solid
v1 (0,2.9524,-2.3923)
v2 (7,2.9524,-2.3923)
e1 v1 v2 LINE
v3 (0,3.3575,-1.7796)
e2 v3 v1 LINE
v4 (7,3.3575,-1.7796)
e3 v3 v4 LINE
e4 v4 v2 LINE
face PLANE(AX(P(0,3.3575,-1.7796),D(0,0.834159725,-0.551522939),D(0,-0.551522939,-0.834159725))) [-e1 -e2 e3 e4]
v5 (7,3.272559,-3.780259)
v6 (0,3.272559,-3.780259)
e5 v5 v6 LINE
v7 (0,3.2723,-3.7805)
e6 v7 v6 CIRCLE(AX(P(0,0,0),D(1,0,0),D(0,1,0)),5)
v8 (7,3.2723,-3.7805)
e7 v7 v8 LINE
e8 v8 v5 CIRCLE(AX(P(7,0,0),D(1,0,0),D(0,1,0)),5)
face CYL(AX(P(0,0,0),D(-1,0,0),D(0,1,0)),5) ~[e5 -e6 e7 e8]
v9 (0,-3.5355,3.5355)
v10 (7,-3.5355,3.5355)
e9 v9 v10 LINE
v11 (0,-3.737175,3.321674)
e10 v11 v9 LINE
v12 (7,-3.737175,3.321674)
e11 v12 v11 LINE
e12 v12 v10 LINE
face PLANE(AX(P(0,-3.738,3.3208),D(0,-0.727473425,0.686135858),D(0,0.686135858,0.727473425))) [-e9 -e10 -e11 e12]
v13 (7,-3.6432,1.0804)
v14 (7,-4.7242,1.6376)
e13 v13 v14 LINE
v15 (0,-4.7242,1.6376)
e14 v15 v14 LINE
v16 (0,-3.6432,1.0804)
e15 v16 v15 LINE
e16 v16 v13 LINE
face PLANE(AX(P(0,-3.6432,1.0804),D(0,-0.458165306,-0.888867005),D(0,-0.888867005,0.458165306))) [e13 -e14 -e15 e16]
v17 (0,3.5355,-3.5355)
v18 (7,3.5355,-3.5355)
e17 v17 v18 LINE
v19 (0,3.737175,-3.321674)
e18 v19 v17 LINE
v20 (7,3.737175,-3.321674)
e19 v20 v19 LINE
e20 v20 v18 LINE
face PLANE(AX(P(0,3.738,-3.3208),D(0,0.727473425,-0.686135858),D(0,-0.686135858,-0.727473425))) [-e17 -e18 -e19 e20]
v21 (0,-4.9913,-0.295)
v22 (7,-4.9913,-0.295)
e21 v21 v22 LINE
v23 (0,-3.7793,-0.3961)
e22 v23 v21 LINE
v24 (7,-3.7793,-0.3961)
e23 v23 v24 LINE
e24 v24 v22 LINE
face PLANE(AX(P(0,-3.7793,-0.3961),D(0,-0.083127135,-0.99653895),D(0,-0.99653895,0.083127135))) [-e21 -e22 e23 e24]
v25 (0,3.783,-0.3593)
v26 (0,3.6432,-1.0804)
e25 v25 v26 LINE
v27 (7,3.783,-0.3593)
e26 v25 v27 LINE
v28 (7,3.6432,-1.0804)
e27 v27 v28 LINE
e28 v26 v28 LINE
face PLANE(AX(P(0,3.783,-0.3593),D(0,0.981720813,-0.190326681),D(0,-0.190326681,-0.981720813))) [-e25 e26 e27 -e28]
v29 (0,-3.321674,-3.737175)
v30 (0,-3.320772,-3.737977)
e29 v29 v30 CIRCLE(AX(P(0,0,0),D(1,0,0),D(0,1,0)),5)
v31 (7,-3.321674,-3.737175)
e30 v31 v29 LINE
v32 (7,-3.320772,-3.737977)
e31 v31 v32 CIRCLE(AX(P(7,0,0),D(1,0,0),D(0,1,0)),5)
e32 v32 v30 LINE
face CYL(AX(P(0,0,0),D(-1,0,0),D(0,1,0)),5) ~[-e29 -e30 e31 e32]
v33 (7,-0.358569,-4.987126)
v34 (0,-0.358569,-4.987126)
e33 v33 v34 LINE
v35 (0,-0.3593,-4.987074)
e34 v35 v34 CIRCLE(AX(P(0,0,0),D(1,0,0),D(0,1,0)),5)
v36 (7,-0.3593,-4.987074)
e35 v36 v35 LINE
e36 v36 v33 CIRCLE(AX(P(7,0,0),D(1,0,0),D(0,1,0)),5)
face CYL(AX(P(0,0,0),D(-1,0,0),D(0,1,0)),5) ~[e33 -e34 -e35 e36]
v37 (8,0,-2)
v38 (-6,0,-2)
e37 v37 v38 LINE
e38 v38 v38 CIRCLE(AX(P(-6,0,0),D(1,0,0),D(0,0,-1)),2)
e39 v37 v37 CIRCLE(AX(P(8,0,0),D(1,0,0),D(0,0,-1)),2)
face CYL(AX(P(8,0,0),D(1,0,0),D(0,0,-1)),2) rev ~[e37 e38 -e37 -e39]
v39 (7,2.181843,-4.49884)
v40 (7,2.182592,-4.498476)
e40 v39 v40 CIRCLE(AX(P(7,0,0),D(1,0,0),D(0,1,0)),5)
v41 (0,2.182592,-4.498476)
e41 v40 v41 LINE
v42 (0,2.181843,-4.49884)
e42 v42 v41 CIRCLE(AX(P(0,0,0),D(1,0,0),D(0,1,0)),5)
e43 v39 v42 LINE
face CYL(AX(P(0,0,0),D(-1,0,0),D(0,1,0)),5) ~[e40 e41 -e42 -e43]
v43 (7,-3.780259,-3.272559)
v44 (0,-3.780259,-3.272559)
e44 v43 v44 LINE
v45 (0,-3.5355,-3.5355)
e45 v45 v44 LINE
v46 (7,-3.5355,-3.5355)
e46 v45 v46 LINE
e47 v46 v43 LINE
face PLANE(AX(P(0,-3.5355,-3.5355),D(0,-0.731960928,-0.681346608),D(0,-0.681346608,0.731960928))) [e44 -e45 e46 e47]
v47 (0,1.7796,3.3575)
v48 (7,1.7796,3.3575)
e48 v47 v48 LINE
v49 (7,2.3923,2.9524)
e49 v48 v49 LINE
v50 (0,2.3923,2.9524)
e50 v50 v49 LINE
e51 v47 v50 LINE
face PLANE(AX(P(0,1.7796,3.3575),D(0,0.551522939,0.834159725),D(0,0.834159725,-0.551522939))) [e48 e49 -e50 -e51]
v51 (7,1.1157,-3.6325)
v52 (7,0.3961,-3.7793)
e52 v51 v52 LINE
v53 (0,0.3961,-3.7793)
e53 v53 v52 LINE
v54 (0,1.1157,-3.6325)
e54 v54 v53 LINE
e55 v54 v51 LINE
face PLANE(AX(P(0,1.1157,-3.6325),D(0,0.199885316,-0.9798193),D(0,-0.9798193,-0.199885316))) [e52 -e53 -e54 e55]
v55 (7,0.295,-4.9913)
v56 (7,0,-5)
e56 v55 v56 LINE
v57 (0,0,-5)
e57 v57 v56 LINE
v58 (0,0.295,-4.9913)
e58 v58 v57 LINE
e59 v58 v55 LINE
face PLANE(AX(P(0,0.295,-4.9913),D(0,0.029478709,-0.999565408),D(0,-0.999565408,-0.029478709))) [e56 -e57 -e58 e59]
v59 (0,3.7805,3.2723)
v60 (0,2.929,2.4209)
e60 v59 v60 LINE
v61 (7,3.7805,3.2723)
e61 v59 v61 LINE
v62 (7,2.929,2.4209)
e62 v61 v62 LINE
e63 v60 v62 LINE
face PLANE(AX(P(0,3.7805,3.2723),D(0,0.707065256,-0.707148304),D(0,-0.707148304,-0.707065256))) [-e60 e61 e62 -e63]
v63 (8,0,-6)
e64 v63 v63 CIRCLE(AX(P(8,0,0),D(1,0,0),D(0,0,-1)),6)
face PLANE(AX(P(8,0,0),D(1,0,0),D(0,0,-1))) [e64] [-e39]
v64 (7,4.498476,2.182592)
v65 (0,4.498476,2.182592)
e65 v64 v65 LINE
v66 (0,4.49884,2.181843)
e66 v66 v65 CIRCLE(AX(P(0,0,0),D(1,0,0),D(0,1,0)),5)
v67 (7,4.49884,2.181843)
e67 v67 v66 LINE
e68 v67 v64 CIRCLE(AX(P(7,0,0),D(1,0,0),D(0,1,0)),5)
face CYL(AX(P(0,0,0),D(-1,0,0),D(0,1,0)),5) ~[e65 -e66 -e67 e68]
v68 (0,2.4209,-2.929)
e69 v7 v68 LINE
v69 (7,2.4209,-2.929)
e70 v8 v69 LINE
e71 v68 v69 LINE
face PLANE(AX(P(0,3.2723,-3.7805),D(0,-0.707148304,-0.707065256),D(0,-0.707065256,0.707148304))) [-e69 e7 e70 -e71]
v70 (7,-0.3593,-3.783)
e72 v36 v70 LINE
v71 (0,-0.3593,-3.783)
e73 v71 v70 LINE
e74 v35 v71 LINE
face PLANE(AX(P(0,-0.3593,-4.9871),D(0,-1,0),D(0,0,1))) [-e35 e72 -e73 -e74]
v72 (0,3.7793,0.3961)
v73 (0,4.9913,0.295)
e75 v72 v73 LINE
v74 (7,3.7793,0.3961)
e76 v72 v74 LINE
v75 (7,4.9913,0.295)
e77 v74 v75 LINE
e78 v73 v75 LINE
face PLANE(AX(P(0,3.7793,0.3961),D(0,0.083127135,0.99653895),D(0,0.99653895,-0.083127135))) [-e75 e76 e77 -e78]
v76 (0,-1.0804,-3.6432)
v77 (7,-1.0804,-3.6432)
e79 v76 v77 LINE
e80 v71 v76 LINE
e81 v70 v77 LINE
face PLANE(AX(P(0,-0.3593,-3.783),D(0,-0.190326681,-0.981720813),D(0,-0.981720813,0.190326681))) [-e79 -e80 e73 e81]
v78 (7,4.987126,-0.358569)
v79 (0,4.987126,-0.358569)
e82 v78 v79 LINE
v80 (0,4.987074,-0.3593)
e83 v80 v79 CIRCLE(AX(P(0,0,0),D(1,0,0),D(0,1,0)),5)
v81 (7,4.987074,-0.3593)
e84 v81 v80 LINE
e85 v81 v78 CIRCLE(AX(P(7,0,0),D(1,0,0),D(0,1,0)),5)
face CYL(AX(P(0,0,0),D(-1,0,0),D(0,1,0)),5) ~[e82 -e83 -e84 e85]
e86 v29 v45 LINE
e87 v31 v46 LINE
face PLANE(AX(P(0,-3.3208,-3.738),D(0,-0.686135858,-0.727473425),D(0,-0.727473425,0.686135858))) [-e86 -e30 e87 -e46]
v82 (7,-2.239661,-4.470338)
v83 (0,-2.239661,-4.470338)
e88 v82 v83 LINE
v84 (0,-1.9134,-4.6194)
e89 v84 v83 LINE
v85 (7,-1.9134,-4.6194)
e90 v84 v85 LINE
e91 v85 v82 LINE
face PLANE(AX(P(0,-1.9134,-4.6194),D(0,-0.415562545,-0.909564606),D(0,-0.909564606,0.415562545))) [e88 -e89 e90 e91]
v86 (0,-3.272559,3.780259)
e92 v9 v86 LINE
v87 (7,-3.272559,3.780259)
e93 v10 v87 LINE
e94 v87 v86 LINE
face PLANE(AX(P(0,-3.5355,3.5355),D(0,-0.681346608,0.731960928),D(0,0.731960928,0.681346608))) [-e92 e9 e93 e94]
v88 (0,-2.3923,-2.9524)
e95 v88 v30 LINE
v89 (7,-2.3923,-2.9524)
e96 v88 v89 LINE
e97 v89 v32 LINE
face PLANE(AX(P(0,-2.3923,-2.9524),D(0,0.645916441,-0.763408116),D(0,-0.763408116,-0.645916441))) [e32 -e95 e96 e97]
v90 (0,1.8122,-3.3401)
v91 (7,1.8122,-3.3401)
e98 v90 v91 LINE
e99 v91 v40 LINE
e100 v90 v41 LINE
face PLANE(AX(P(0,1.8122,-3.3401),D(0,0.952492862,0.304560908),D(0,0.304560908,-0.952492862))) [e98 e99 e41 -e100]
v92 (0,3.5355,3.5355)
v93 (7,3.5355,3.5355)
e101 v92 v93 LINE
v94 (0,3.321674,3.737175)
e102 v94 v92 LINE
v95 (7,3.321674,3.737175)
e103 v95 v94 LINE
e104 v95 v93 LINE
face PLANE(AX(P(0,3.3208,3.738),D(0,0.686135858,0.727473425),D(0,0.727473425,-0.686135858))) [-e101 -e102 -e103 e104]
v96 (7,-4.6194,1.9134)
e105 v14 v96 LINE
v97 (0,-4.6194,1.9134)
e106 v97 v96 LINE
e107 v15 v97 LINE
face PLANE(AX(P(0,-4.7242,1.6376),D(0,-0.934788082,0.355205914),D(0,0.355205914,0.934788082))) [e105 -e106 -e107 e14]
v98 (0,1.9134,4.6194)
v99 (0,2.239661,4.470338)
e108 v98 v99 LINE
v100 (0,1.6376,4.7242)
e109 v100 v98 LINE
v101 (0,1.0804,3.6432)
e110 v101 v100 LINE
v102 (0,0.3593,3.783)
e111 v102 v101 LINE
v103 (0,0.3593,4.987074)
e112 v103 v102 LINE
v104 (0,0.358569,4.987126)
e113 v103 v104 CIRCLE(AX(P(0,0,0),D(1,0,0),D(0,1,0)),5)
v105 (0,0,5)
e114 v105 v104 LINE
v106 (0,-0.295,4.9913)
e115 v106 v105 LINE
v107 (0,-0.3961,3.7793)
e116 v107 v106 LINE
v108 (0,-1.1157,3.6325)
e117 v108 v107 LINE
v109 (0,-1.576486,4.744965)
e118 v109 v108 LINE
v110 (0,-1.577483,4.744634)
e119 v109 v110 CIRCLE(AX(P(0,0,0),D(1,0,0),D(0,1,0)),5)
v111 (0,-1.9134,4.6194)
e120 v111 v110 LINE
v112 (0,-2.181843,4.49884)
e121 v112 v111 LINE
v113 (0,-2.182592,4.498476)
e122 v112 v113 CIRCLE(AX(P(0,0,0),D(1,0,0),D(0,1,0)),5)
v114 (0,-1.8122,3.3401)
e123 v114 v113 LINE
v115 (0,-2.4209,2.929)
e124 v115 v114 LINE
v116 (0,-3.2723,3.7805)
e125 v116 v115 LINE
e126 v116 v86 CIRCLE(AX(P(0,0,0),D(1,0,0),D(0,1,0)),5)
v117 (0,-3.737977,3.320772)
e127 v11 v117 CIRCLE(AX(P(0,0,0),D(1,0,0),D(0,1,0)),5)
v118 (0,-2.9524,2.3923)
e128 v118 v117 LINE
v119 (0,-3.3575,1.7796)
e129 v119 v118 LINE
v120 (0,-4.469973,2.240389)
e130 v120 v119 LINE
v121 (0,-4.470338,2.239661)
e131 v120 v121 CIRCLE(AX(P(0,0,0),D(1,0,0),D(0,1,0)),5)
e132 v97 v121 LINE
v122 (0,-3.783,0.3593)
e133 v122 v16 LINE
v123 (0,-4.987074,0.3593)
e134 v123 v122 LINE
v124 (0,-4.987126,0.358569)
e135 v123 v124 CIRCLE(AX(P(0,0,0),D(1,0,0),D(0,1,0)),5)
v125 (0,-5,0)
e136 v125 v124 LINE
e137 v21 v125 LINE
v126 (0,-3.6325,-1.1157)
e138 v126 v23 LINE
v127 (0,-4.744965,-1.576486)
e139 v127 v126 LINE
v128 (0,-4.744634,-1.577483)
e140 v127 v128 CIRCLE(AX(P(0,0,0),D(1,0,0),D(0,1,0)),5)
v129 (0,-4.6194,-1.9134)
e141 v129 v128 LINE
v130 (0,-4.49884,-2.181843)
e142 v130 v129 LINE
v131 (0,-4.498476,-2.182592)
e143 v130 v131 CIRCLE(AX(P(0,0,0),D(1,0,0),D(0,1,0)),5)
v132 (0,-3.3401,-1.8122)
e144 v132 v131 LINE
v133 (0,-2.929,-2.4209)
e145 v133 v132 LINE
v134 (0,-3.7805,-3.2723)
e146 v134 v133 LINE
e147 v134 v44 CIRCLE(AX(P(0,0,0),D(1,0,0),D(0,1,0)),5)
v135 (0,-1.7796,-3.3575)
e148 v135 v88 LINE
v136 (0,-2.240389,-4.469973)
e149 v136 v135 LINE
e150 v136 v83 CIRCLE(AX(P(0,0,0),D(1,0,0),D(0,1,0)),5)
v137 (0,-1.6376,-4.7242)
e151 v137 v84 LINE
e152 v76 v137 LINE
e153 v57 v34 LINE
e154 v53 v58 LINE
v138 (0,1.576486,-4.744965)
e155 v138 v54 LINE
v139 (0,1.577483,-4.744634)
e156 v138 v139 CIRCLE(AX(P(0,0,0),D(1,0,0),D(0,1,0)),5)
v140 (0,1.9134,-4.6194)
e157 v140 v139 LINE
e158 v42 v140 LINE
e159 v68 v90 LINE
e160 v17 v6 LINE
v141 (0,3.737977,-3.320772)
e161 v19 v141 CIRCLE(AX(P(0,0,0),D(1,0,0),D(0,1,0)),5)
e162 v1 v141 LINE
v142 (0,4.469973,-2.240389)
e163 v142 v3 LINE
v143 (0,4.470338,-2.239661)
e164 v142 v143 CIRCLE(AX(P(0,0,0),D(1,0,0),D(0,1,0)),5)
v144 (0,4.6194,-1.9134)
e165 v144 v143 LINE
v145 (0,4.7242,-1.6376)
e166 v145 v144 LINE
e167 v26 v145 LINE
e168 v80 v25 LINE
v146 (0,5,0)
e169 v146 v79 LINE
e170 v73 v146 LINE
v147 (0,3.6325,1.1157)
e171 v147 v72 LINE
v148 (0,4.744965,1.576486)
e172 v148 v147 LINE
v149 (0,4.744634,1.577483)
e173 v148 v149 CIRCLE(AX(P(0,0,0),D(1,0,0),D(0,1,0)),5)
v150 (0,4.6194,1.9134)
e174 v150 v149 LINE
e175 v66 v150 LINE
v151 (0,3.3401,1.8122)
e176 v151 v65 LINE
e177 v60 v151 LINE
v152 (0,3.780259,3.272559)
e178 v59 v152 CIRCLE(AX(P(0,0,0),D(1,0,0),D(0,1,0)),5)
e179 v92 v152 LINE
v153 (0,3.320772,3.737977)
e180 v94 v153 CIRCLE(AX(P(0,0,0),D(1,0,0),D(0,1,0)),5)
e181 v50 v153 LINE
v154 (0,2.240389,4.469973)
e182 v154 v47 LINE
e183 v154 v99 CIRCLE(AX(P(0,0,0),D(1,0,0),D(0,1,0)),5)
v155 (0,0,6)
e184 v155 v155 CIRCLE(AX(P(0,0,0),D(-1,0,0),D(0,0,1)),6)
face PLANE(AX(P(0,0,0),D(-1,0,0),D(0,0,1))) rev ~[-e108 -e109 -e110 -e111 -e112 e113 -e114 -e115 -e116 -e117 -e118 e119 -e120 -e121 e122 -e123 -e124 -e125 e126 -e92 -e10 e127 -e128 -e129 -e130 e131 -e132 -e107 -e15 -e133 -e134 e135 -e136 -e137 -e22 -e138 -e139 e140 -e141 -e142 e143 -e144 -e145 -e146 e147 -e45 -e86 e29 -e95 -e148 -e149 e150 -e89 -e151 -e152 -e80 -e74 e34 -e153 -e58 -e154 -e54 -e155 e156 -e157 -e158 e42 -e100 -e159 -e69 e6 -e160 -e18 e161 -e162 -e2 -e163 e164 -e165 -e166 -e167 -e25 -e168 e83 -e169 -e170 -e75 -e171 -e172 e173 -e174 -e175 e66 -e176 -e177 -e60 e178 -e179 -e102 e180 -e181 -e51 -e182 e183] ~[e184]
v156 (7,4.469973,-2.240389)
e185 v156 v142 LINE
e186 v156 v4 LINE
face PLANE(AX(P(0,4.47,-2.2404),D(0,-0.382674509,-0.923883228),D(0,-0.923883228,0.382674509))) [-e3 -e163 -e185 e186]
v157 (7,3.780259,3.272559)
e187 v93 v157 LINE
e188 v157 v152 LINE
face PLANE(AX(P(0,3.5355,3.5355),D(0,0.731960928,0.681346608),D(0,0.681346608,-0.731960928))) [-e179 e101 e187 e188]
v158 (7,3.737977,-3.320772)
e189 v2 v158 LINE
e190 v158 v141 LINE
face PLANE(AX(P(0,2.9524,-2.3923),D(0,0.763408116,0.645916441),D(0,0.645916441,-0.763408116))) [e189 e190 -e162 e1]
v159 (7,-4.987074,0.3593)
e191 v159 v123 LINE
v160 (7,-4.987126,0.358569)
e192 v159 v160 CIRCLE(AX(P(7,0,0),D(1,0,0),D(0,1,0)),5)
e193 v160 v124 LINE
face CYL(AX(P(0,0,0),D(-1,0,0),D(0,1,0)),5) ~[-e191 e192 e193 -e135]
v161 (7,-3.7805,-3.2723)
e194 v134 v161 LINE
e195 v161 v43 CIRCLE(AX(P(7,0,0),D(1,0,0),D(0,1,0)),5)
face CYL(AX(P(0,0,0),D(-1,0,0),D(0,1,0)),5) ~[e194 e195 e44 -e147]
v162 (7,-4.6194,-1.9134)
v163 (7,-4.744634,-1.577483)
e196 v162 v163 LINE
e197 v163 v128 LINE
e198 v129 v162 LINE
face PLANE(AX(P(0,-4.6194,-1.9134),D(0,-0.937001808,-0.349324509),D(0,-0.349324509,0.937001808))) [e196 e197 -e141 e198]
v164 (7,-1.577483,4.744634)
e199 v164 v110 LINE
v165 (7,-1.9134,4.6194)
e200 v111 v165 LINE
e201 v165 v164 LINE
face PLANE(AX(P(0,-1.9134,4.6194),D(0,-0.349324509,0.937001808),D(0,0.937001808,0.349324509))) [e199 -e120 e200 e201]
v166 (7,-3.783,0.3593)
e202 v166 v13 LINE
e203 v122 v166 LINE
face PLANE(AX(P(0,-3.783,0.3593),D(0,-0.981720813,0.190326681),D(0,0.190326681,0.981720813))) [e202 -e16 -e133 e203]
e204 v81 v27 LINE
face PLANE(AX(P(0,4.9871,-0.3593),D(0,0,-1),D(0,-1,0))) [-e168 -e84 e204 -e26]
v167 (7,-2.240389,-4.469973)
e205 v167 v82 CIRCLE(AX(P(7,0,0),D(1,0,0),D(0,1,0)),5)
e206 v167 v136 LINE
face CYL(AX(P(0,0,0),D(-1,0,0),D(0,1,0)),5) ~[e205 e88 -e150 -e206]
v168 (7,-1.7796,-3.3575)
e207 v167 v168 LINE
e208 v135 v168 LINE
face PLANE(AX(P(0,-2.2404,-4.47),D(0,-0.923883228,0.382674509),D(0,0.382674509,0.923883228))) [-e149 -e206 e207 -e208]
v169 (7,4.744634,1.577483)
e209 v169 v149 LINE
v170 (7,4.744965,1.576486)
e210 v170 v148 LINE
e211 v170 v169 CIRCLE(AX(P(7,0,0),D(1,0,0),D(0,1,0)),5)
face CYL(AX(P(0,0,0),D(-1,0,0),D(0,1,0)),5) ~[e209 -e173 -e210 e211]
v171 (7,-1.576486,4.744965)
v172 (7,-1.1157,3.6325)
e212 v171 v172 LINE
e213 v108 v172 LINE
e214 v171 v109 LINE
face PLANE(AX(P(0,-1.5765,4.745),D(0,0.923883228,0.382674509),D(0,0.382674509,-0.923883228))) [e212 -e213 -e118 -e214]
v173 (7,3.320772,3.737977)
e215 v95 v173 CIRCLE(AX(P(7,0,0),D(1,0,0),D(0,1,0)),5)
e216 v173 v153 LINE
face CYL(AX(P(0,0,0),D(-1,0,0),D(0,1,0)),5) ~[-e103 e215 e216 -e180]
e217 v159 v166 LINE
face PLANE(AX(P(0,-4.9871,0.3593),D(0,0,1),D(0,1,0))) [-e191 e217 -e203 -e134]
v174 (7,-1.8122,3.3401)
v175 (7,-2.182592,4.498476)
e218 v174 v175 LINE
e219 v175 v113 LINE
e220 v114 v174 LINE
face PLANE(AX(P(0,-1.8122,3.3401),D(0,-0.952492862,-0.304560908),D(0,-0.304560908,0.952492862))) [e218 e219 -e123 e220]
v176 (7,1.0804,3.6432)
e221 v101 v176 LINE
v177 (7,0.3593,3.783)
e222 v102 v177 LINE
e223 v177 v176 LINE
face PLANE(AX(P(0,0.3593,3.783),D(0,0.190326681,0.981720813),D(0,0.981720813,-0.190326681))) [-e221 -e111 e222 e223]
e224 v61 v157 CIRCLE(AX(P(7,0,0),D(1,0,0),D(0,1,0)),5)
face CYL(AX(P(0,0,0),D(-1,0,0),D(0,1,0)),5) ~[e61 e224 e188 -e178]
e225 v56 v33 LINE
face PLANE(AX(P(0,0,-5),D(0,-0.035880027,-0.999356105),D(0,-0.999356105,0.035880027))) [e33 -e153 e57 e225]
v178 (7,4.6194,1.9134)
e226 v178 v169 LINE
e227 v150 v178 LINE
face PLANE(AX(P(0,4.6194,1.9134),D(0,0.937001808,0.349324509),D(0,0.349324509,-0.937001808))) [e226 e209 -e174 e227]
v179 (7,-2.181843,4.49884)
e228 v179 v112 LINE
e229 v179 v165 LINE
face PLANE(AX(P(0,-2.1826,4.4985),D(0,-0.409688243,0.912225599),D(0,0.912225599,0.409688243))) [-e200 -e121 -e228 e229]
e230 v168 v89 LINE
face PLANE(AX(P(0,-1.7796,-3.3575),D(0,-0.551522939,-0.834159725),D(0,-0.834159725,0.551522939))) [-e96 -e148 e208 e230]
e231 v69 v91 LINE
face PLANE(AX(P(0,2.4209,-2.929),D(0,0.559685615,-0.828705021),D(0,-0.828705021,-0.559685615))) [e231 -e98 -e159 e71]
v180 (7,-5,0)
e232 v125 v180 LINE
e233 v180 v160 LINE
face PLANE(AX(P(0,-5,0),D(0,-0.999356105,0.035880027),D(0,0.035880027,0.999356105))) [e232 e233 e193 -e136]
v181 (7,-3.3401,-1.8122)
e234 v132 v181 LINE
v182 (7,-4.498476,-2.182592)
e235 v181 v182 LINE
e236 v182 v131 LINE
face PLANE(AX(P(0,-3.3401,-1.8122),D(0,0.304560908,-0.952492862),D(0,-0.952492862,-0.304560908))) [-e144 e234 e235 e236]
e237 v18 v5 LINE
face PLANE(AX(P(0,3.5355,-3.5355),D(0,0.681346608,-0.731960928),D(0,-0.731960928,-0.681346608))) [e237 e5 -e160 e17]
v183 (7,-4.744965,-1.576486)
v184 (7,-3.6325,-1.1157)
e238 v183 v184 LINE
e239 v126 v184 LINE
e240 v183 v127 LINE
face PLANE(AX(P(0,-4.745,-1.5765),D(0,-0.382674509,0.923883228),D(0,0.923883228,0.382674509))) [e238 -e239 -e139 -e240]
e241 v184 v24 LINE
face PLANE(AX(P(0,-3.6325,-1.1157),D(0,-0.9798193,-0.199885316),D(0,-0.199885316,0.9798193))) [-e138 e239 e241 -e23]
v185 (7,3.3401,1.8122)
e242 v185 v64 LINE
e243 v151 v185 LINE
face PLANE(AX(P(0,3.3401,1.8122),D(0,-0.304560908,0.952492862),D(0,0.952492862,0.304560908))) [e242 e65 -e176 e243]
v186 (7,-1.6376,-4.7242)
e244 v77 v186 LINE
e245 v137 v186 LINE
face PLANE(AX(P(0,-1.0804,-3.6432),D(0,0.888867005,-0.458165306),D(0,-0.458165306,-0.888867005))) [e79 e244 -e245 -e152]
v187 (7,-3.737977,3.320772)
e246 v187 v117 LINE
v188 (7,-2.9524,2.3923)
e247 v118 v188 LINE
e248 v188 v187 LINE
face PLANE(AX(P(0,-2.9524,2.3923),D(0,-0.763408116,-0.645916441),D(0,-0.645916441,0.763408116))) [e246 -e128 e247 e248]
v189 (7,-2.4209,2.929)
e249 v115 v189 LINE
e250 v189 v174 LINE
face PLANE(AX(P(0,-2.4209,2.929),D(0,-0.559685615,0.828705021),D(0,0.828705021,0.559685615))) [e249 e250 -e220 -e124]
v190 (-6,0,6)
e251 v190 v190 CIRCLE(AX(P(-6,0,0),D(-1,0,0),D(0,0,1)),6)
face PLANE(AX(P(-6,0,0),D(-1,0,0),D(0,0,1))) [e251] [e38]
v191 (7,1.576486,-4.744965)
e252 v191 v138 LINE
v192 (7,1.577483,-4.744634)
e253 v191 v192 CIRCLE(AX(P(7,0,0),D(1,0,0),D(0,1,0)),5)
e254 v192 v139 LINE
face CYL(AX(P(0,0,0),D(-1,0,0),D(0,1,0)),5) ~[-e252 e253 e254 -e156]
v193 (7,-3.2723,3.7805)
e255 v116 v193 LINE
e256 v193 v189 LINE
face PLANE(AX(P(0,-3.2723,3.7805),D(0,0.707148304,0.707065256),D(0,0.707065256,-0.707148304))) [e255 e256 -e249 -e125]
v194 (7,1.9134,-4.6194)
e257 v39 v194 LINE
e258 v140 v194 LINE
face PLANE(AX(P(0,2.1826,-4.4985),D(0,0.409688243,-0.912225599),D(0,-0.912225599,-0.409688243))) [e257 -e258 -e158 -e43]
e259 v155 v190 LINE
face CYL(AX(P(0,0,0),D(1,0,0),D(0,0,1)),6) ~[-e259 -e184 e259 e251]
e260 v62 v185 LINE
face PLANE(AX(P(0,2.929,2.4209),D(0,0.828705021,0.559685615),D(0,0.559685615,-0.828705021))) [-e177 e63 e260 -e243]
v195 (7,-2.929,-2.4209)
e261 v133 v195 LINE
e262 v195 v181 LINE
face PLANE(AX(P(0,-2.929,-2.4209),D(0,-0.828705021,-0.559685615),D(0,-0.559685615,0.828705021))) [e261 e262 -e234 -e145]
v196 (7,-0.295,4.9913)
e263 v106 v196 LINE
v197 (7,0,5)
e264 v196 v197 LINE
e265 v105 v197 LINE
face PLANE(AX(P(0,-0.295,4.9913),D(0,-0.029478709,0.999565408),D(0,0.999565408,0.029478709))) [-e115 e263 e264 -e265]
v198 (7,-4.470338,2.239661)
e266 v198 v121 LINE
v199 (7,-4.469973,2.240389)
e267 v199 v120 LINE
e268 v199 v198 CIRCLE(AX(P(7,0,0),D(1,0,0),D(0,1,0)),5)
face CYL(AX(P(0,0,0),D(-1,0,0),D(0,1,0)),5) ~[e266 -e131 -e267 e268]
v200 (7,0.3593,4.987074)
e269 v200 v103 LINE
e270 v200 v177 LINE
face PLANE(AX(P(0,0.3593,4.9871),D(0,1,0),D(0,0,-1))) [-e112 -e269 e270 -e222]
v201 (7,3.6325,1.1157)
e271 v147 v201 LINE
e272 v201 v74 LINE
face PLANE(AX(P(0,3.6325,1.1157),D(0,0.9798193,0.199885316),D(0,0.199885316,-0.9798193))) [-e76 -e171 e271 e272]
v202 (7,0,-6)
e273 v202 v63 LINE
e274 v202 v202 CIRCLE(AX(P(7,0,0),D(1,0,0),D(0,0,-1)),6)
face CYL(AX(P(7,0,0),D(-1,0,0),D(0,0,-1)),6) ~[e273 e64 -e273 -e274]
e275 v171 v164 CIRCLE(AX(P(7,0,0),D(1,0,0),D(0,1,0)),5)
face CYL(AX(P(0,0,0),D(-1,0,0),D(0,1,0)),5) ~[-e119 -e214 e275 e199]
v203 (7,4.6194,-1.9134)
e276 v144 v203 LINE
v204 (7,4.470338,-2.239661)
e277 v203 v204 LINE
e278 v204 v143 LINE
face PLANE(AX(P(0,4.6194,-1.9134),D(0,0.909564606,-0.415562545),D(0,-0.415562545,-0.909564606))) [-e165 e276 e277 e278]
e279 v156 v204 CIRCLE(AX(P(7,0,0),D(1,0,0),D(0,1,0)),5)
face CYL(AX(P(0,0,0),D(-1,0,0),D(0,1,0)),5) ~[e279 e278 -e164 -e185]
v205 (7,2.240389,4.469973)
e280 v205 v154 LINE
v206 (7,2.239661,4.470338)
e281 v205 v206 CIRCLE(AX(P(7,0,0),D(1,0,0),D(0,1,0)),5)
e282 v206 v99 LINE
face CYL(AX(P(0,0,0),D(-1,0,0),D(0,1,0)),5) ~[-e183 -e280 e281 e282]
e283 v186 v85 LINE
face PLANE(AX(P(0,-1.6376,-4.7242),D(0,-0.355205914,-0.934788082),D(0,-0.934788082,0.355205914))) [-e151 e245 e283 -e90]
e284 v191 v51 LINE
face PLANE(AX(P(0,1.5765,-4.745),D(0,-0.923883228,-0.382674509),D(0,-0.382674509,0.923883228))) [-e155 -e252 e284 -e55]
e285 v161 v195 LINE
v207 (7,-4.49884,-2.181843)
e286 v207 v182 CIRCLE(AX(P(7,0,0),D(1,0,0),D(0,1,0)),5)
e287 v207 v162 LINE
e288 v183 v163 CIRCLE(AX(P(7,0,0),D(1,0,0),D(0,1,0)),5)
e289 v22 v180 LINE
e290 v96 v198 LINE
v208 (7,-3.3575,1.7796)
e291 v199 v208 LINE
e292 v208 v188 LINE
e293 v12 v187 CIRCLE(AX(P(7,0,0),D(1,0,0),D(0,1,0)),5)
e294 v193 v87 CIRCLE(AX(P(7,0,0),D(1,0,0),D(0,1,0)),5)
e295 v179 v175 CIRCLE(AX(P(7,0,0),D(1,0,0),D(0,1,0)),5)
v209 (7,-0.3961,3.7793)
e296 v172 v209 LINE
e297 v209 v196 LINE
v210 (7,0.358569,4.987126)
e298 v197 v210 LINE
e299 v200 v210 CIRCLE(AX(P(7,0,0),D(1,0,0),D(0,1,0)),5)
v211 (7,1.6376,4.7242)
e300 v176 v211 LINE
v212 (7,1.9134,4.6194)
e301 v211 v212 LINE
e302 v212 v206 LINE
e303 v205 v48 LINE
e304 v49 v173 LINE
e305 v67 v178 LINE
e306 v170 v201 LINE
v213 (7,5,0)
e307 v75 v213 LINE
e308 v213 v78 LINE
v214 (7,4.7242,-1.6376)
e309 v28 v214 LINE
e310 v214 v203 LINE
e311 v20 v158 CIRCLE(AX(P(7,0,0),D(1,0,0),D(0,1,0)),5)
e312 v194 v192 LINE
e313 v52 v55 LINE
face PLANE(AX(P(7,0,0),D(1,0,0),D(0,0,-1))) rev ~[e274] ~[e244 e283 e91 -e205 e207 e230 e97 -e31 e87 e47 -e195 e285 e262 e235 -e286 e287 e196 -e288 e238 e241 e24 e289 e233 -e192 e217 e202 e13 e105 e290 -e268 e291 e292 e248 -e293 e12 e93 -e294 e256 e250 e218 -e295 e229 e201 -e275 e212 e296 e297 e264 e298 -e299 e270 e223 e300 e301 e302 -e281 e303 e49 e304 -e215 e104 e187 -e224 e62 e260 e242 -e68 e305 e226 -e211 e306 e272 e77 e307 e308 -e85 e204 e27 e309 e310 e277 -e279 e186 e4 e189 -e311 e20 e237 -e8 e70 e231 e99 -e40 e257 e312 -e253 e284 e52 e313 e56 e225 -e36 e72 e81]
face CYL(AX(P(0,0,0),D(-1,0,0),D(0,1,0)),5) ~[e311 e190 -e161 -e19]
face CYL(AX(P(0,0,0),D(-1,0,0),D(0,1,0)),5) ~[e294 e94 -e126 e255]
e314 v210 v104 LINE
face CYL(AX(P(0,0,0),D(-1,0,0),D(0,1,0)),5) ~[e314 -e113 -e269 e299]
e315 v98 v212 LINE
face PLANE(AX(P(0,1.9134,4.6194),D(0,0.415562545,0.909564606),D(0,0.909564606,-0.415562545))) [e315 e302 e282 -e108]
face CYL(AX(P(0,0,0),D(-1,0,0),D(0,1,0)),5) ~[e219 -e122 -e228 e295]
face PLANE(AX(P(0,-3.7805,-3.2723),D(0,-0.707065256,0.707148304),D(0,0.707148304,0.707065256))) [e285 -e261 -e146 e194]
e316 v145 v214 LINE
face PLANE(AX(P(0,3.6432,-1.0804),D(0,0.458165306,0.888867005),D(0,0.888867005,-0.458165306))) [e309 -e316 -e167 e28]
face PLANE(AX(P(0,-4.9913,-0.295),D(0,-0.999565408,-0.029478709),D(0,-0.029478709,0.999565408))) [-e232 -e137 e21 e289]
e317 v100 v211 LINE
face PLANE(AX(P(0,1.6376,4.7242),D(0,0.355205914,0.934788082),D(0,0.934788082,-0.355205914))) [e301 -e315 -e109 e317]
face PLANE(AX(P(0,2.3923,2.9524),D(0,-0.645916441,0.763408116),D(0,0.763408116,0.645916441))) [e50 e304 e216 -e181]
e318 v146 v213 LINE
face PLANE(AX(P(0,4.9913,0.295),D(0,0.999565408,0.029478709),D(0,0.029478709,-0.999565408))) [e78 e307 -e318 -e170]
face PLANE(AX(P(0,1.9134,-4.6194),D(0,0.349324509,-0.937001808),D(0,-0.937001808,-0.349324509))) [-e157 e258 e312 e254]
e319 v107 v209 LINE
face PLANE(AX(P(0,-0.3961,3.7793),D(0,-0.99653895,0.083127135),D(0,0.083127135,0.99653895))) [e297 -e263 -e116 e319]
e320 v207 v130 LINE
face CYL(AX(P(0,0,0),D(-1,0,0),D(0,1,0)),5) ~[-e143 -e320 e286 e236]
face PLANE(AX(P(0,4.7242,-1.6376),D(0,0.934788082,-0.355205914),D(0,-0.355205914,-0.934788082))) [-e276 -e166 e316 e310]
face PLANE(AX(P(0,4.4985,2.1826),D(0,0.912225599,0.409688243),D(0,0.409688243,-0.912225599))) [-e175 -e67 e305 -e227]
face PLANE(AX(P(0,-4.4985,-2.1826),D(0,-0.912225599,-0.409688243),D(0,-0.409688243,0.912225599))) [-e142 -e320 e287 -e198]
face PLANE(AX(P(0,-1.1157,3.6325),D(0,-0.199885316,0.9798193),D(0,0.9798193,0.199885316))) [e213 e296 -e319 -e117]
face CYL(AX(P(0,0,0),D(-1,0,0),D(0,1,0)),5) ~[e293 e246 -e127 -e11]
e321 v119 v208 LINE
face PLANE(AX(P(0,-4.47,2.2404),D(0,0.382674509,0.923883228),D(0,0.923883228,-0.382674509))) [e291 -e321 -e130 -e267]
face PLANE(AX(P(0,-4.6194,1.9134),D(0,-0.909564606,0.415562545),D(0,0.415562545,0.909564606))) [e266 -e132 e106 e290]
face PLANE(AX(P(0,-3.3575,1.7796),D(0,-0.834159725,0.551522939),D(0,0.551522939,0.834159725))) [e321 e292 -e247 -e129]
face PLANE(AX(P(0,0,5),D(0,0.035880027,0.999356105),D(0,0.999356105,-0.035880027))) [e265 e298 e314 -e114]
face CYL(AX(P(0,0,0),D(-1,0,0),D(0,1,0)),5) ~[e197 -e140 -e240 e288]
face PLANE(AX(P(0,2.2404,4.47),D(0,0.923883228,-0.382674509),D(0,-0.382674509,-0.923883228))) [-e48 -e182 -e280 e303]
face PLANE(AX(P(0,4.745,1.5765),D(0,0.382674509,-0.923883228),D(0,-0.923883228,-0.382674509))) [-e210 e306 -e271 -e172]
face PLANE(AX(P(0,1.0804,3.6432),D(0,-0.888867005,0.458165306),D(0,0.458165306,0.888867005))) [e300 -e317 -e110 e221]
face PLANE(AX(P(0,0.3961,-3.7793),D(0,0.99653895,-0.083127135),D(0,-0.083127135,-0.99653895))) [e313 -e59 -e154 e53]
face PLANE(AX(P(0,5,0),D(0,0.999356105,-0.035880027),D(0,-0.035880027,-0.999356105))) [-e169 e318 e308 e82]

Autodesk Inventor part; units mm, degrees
ref_plane "YZ Plane" through (0, 0, 0) normal (1, 0, 0) x (0, 1, 0)
ref_plane "XZ Plane" through (0, 0, 0) normal (0, 1, 0) x (-1, 0, 0)
ref_plane "XY Plane" through (0, 0, 0) normal (0, 0, 1) x (1, 0, 0)
sketch "Эскиз1" plane through (0, 0, 0) normal (1, 0, 0) x (0, 1, 0)
  circle A0 centre (0, 0) radius 5
  dimension "d0" = 10
extrude "Выдавливание1" add sketch "Эскиз1" along normal blind 7
sketch "Эскиз2" plane through (7, 0, 0) normal (1, 0, 0) x (0, 0, -1)
  circle A0 centre (0, 0) radius 6
  dimension "d3" = 12
extrude "Выдавливание2" add sketch "Эскиз2" along normal blind 1
sketch "Эскиз3" plane through (0, 0, 0) normal (-1, 0, 0) x (0, 0, 1)
  circle A0 centre (0, 0) radius 6
  dimension "d6" = 12
extrude "Выдавливание3" add sketch "Эскиз3" along normal blind 6
sketch "Эскиз4" plane through (8, 0, 0) normal (1, 0, 0) x (0, 0, -1)
  circle A0 centre (0, 0) radius 2
  dimension "d9" = 4
extrude "Выдавливание4" cut sketch "Эскиз4" against normal blind 60
sketch "Эскиз5" plane through (0, 0, 0) normal (1, 0, 0) x (0, 0, -1)
  circle A0 centre (0, 0) radius 5 construction
  circle A1 centre (0, 0) radius 5 construction
  circle A2 centre (0, 0) radius 6 construction
  circle A3 centre (0, 0) radius 6 construction
  circle A4 centre (0, 0) radius 2 construction
  circle A5 centre (0, 0) radius 2 construction
  line L0 (0, 0) -> (0, 5) construction
  line L1 (0, 0) -> (1.9134, 4.6194) construction
  circle A6 centre (0, 0) radius 3.8 construction
  line L2 (0.3593, 4.9871) -> (0.3593, 3.783)
  line L3 (0.3593, 3.783) -> (1.0804, 3.6432)
  line L4 (1.0804, 3.6432) -> (1.6376, 4.7242)
  line L5 (0, 5) -> (0.3593, 4.9871)
  line L6 (1.6376, 4.7242) -> (1.9134, 4.6194)
  line L7 (-1.5765, 4.745) -> (-1.1157, 3.6325)
  line L8 (-1.1157, 3.6325) -> (-0.3961, 3.7793)
  line L9 (-0.3961, 3.7793) -> (-0.295, 4.9913)
  line L10 (-1.9134, 4.6194) -> (-1.5765, 4.745)
  line L11 (-0.295, 4.9913) -> (0, 5)
  line L12 (-3.2723, 3.7805) -> (-2.4209, 2.929)
  line L13 (-2.4209, 2.929) -> (-1.8122, 3.3401)
  line L14 (-1.8122, 3.3401) -> (-2.1826, 4.4985)
  line L15 (-3.5355, 3.5355) -> (-3.2723, 3.7805)
  line L16 (-2.1826, 4.4985) -> (-1.9134, 4.6194)
  line L17 (-4.47, 2.2404) -> (-3.3575, 1.7796)
  line L18 (-3.3575, 1.7796) -> (-2.9524, 2.3923)
  line L19 (-2.9524, 2.3923) -> (-3.738, 3.3208)
  line L20 (-4.6194, 1.9134) -> (-4.47, 2.2404)
  line L21 (-3.738, 3.3208) -> (-3.5355, 3.5355)
  line L22 (-4.9871, 0.3593) -> (-3.783, 0.3593)
  line L23 (-3.783, 0.3593) -> (-3.6432, 1.0804)
  line L24 (-3.6432, 1.0804) -> (-4.7242, 1.6376)
  line L25 (-5, 0) -> (-4.9871, 0.3593)
  line L26 (-4.7242, 1.6376) -> (-4.6194, 1.9134)
  line L27 (-4.745, -1.5765) -> (-3.6325, -1.1157)
  line L28 (-3.6325, -1.1157) -> (-3.7793, -0.3961)
  line L29 (-3.7793, -0.3961) -> (-4.9913, -0.295)
  line L30 (-4.6194, -1.9134) -> (-4.745, -1.5765)
  line L31 (-4.9913, -0.295) -> (-5, 0)
  line L32 (-3.7805, -3.2723) -> (-2.929, -2.4209)
  line L33 (-2.929, -2.4209) -> (-3.3401, -1.8122)
  line L34 (-3.3401, -1.8122) -> (-4.4985, -2.1826)
  line L35 (-3.5355, -3.5355) -> (-3.7805, -3.2723)
  line L36 (-4.4985, -2.1826) -> (-4.6194, -1.9134)
  line L37 (-2.2404, -4.47) -> (-1.7796, -3.3575)
  line L38 (-1.7796, -3.3575) -> (-2.3923, -2.9524)
  line L39 (-2.3923, -2.9524) -> (-3.3208, -3.738)
  line L40 (-1.9134, -4.6194) -> (-2.2404, -4.47)
  line L41 (-3.3208, -3.738) -> (-3.5355, -3.5355)
  line L42 (-0.3593, -4.9871) -> (-0.3593, -3.783)
  line L43 (-0.3593, -3.783) -> (-1.0804, -3.6432)
  line L44 (-1.0804, -3.6432) -> (-1.6376, -4.7242)
  line L45 (0, -5) -> (-0.3593, -4.9871)
  line L46 (-1.6376, -4.7242) -> (-1.9134, -4.6194)
  line L47 (1.5765, -4.745) -> (1.1157, -3.6325)
  line L48 (1.1157, -3.6325) -> (0.3961, -3.7793)
  line L49 (0.3961, -3.7793) -> (0.295, -4.9913)
  line L50 (1.9134, -4.6194) -> (1.5765, -4.745)
  line L51 (0.295, -4.9913) -> (0, -5)
  line L52 (3.2723, -3.7805) -> (2.4209, -2.929)
  line L53 (2.4209, -2.929) -> (1.8122, -3.3401)
  line L54 (1.8122, -3.3401) -> (2.1826, -4.4985)
  line L55 (3.5355, -3.5355) -> (3.2723, -3.7805)
  line L56 (2.1826, -4.4985) -> (1.9134, -4.6194)
  line L57 (4.47, -2.2404) -> (3.3575, -1.7796)
  line L58 (3.3575, -1.7796) -> (2.9524, -2.3923)
  line L59 (2.9524, -2.3923) -> (3.738, -3.3208)
  line L60 (4.6194, -1.9134) -> (4.47, -2.2404)
  line L61 (3.738, -3.3208) -> (3.5355, -3.5355)
  line L62 (4.9871, -0.3593) -> (3.783, -0.3593)
  line L63 (3.783, -0.3593) -> (3.6432, -1.0804)
  line L64 (3.6432, -1.0804) -> (4.7242, -1.6376)
  line L65 (5, 0) -> (4.9871, -0.3593)
  line L66 (4.7242, -1.6376) -> (4.6194, -1.9134)
  line L67 (4.745, 1.5765) -> (3.6325, 1.1157)
  line L68 (3.6325, 1.1157) -> (3.7793, 0.3961)
  line L69 (3.7793, 0.3961) -> (4.9913, 0.295)
  line L70 (4.6194, 1.9134) -> (4.745, 1.5765)
  line L71 (4.9913, 0.295) -> (5, 0)
  line L72 (3.7805, 3.2723) -> (2.929, 2.4209)
  line L73 (2.929, 2.4209) -> (3.3401, 1.8122)
  line L74 (3.3401, 1.8122) -> (4.4985, 2.1826)
  line L75 (3.5355, 3.5355) -> (3.7805, 3.2723)
  line L76 (4.4985, 2.1826) -> (4.6194, 1.9134)
  line L77 (2.2404, 4.47) -> (1.7796, 3.3575)
  line L78 (1.7796, 3.3575) -> (2.3923, 2.9524)
  line L79 (2.3923, 2.9524) -> (3.3208, 3.738)
  line L80 (1.9134, 4.6194) -> (2.2404, 4.47)
  line L81 (3.3208, 3.738) -> (3.5355, 3.5355)
  circle A7 centre (0, 0) radius 5.4727
  dimension "d12" = 22.5
  dimension "d13" = 7.6
  dimension "d16" = 360
extrude "Выдавливание5" cut sketch "Эскиз5" along normal blind 7
properties part number "gear_16"
